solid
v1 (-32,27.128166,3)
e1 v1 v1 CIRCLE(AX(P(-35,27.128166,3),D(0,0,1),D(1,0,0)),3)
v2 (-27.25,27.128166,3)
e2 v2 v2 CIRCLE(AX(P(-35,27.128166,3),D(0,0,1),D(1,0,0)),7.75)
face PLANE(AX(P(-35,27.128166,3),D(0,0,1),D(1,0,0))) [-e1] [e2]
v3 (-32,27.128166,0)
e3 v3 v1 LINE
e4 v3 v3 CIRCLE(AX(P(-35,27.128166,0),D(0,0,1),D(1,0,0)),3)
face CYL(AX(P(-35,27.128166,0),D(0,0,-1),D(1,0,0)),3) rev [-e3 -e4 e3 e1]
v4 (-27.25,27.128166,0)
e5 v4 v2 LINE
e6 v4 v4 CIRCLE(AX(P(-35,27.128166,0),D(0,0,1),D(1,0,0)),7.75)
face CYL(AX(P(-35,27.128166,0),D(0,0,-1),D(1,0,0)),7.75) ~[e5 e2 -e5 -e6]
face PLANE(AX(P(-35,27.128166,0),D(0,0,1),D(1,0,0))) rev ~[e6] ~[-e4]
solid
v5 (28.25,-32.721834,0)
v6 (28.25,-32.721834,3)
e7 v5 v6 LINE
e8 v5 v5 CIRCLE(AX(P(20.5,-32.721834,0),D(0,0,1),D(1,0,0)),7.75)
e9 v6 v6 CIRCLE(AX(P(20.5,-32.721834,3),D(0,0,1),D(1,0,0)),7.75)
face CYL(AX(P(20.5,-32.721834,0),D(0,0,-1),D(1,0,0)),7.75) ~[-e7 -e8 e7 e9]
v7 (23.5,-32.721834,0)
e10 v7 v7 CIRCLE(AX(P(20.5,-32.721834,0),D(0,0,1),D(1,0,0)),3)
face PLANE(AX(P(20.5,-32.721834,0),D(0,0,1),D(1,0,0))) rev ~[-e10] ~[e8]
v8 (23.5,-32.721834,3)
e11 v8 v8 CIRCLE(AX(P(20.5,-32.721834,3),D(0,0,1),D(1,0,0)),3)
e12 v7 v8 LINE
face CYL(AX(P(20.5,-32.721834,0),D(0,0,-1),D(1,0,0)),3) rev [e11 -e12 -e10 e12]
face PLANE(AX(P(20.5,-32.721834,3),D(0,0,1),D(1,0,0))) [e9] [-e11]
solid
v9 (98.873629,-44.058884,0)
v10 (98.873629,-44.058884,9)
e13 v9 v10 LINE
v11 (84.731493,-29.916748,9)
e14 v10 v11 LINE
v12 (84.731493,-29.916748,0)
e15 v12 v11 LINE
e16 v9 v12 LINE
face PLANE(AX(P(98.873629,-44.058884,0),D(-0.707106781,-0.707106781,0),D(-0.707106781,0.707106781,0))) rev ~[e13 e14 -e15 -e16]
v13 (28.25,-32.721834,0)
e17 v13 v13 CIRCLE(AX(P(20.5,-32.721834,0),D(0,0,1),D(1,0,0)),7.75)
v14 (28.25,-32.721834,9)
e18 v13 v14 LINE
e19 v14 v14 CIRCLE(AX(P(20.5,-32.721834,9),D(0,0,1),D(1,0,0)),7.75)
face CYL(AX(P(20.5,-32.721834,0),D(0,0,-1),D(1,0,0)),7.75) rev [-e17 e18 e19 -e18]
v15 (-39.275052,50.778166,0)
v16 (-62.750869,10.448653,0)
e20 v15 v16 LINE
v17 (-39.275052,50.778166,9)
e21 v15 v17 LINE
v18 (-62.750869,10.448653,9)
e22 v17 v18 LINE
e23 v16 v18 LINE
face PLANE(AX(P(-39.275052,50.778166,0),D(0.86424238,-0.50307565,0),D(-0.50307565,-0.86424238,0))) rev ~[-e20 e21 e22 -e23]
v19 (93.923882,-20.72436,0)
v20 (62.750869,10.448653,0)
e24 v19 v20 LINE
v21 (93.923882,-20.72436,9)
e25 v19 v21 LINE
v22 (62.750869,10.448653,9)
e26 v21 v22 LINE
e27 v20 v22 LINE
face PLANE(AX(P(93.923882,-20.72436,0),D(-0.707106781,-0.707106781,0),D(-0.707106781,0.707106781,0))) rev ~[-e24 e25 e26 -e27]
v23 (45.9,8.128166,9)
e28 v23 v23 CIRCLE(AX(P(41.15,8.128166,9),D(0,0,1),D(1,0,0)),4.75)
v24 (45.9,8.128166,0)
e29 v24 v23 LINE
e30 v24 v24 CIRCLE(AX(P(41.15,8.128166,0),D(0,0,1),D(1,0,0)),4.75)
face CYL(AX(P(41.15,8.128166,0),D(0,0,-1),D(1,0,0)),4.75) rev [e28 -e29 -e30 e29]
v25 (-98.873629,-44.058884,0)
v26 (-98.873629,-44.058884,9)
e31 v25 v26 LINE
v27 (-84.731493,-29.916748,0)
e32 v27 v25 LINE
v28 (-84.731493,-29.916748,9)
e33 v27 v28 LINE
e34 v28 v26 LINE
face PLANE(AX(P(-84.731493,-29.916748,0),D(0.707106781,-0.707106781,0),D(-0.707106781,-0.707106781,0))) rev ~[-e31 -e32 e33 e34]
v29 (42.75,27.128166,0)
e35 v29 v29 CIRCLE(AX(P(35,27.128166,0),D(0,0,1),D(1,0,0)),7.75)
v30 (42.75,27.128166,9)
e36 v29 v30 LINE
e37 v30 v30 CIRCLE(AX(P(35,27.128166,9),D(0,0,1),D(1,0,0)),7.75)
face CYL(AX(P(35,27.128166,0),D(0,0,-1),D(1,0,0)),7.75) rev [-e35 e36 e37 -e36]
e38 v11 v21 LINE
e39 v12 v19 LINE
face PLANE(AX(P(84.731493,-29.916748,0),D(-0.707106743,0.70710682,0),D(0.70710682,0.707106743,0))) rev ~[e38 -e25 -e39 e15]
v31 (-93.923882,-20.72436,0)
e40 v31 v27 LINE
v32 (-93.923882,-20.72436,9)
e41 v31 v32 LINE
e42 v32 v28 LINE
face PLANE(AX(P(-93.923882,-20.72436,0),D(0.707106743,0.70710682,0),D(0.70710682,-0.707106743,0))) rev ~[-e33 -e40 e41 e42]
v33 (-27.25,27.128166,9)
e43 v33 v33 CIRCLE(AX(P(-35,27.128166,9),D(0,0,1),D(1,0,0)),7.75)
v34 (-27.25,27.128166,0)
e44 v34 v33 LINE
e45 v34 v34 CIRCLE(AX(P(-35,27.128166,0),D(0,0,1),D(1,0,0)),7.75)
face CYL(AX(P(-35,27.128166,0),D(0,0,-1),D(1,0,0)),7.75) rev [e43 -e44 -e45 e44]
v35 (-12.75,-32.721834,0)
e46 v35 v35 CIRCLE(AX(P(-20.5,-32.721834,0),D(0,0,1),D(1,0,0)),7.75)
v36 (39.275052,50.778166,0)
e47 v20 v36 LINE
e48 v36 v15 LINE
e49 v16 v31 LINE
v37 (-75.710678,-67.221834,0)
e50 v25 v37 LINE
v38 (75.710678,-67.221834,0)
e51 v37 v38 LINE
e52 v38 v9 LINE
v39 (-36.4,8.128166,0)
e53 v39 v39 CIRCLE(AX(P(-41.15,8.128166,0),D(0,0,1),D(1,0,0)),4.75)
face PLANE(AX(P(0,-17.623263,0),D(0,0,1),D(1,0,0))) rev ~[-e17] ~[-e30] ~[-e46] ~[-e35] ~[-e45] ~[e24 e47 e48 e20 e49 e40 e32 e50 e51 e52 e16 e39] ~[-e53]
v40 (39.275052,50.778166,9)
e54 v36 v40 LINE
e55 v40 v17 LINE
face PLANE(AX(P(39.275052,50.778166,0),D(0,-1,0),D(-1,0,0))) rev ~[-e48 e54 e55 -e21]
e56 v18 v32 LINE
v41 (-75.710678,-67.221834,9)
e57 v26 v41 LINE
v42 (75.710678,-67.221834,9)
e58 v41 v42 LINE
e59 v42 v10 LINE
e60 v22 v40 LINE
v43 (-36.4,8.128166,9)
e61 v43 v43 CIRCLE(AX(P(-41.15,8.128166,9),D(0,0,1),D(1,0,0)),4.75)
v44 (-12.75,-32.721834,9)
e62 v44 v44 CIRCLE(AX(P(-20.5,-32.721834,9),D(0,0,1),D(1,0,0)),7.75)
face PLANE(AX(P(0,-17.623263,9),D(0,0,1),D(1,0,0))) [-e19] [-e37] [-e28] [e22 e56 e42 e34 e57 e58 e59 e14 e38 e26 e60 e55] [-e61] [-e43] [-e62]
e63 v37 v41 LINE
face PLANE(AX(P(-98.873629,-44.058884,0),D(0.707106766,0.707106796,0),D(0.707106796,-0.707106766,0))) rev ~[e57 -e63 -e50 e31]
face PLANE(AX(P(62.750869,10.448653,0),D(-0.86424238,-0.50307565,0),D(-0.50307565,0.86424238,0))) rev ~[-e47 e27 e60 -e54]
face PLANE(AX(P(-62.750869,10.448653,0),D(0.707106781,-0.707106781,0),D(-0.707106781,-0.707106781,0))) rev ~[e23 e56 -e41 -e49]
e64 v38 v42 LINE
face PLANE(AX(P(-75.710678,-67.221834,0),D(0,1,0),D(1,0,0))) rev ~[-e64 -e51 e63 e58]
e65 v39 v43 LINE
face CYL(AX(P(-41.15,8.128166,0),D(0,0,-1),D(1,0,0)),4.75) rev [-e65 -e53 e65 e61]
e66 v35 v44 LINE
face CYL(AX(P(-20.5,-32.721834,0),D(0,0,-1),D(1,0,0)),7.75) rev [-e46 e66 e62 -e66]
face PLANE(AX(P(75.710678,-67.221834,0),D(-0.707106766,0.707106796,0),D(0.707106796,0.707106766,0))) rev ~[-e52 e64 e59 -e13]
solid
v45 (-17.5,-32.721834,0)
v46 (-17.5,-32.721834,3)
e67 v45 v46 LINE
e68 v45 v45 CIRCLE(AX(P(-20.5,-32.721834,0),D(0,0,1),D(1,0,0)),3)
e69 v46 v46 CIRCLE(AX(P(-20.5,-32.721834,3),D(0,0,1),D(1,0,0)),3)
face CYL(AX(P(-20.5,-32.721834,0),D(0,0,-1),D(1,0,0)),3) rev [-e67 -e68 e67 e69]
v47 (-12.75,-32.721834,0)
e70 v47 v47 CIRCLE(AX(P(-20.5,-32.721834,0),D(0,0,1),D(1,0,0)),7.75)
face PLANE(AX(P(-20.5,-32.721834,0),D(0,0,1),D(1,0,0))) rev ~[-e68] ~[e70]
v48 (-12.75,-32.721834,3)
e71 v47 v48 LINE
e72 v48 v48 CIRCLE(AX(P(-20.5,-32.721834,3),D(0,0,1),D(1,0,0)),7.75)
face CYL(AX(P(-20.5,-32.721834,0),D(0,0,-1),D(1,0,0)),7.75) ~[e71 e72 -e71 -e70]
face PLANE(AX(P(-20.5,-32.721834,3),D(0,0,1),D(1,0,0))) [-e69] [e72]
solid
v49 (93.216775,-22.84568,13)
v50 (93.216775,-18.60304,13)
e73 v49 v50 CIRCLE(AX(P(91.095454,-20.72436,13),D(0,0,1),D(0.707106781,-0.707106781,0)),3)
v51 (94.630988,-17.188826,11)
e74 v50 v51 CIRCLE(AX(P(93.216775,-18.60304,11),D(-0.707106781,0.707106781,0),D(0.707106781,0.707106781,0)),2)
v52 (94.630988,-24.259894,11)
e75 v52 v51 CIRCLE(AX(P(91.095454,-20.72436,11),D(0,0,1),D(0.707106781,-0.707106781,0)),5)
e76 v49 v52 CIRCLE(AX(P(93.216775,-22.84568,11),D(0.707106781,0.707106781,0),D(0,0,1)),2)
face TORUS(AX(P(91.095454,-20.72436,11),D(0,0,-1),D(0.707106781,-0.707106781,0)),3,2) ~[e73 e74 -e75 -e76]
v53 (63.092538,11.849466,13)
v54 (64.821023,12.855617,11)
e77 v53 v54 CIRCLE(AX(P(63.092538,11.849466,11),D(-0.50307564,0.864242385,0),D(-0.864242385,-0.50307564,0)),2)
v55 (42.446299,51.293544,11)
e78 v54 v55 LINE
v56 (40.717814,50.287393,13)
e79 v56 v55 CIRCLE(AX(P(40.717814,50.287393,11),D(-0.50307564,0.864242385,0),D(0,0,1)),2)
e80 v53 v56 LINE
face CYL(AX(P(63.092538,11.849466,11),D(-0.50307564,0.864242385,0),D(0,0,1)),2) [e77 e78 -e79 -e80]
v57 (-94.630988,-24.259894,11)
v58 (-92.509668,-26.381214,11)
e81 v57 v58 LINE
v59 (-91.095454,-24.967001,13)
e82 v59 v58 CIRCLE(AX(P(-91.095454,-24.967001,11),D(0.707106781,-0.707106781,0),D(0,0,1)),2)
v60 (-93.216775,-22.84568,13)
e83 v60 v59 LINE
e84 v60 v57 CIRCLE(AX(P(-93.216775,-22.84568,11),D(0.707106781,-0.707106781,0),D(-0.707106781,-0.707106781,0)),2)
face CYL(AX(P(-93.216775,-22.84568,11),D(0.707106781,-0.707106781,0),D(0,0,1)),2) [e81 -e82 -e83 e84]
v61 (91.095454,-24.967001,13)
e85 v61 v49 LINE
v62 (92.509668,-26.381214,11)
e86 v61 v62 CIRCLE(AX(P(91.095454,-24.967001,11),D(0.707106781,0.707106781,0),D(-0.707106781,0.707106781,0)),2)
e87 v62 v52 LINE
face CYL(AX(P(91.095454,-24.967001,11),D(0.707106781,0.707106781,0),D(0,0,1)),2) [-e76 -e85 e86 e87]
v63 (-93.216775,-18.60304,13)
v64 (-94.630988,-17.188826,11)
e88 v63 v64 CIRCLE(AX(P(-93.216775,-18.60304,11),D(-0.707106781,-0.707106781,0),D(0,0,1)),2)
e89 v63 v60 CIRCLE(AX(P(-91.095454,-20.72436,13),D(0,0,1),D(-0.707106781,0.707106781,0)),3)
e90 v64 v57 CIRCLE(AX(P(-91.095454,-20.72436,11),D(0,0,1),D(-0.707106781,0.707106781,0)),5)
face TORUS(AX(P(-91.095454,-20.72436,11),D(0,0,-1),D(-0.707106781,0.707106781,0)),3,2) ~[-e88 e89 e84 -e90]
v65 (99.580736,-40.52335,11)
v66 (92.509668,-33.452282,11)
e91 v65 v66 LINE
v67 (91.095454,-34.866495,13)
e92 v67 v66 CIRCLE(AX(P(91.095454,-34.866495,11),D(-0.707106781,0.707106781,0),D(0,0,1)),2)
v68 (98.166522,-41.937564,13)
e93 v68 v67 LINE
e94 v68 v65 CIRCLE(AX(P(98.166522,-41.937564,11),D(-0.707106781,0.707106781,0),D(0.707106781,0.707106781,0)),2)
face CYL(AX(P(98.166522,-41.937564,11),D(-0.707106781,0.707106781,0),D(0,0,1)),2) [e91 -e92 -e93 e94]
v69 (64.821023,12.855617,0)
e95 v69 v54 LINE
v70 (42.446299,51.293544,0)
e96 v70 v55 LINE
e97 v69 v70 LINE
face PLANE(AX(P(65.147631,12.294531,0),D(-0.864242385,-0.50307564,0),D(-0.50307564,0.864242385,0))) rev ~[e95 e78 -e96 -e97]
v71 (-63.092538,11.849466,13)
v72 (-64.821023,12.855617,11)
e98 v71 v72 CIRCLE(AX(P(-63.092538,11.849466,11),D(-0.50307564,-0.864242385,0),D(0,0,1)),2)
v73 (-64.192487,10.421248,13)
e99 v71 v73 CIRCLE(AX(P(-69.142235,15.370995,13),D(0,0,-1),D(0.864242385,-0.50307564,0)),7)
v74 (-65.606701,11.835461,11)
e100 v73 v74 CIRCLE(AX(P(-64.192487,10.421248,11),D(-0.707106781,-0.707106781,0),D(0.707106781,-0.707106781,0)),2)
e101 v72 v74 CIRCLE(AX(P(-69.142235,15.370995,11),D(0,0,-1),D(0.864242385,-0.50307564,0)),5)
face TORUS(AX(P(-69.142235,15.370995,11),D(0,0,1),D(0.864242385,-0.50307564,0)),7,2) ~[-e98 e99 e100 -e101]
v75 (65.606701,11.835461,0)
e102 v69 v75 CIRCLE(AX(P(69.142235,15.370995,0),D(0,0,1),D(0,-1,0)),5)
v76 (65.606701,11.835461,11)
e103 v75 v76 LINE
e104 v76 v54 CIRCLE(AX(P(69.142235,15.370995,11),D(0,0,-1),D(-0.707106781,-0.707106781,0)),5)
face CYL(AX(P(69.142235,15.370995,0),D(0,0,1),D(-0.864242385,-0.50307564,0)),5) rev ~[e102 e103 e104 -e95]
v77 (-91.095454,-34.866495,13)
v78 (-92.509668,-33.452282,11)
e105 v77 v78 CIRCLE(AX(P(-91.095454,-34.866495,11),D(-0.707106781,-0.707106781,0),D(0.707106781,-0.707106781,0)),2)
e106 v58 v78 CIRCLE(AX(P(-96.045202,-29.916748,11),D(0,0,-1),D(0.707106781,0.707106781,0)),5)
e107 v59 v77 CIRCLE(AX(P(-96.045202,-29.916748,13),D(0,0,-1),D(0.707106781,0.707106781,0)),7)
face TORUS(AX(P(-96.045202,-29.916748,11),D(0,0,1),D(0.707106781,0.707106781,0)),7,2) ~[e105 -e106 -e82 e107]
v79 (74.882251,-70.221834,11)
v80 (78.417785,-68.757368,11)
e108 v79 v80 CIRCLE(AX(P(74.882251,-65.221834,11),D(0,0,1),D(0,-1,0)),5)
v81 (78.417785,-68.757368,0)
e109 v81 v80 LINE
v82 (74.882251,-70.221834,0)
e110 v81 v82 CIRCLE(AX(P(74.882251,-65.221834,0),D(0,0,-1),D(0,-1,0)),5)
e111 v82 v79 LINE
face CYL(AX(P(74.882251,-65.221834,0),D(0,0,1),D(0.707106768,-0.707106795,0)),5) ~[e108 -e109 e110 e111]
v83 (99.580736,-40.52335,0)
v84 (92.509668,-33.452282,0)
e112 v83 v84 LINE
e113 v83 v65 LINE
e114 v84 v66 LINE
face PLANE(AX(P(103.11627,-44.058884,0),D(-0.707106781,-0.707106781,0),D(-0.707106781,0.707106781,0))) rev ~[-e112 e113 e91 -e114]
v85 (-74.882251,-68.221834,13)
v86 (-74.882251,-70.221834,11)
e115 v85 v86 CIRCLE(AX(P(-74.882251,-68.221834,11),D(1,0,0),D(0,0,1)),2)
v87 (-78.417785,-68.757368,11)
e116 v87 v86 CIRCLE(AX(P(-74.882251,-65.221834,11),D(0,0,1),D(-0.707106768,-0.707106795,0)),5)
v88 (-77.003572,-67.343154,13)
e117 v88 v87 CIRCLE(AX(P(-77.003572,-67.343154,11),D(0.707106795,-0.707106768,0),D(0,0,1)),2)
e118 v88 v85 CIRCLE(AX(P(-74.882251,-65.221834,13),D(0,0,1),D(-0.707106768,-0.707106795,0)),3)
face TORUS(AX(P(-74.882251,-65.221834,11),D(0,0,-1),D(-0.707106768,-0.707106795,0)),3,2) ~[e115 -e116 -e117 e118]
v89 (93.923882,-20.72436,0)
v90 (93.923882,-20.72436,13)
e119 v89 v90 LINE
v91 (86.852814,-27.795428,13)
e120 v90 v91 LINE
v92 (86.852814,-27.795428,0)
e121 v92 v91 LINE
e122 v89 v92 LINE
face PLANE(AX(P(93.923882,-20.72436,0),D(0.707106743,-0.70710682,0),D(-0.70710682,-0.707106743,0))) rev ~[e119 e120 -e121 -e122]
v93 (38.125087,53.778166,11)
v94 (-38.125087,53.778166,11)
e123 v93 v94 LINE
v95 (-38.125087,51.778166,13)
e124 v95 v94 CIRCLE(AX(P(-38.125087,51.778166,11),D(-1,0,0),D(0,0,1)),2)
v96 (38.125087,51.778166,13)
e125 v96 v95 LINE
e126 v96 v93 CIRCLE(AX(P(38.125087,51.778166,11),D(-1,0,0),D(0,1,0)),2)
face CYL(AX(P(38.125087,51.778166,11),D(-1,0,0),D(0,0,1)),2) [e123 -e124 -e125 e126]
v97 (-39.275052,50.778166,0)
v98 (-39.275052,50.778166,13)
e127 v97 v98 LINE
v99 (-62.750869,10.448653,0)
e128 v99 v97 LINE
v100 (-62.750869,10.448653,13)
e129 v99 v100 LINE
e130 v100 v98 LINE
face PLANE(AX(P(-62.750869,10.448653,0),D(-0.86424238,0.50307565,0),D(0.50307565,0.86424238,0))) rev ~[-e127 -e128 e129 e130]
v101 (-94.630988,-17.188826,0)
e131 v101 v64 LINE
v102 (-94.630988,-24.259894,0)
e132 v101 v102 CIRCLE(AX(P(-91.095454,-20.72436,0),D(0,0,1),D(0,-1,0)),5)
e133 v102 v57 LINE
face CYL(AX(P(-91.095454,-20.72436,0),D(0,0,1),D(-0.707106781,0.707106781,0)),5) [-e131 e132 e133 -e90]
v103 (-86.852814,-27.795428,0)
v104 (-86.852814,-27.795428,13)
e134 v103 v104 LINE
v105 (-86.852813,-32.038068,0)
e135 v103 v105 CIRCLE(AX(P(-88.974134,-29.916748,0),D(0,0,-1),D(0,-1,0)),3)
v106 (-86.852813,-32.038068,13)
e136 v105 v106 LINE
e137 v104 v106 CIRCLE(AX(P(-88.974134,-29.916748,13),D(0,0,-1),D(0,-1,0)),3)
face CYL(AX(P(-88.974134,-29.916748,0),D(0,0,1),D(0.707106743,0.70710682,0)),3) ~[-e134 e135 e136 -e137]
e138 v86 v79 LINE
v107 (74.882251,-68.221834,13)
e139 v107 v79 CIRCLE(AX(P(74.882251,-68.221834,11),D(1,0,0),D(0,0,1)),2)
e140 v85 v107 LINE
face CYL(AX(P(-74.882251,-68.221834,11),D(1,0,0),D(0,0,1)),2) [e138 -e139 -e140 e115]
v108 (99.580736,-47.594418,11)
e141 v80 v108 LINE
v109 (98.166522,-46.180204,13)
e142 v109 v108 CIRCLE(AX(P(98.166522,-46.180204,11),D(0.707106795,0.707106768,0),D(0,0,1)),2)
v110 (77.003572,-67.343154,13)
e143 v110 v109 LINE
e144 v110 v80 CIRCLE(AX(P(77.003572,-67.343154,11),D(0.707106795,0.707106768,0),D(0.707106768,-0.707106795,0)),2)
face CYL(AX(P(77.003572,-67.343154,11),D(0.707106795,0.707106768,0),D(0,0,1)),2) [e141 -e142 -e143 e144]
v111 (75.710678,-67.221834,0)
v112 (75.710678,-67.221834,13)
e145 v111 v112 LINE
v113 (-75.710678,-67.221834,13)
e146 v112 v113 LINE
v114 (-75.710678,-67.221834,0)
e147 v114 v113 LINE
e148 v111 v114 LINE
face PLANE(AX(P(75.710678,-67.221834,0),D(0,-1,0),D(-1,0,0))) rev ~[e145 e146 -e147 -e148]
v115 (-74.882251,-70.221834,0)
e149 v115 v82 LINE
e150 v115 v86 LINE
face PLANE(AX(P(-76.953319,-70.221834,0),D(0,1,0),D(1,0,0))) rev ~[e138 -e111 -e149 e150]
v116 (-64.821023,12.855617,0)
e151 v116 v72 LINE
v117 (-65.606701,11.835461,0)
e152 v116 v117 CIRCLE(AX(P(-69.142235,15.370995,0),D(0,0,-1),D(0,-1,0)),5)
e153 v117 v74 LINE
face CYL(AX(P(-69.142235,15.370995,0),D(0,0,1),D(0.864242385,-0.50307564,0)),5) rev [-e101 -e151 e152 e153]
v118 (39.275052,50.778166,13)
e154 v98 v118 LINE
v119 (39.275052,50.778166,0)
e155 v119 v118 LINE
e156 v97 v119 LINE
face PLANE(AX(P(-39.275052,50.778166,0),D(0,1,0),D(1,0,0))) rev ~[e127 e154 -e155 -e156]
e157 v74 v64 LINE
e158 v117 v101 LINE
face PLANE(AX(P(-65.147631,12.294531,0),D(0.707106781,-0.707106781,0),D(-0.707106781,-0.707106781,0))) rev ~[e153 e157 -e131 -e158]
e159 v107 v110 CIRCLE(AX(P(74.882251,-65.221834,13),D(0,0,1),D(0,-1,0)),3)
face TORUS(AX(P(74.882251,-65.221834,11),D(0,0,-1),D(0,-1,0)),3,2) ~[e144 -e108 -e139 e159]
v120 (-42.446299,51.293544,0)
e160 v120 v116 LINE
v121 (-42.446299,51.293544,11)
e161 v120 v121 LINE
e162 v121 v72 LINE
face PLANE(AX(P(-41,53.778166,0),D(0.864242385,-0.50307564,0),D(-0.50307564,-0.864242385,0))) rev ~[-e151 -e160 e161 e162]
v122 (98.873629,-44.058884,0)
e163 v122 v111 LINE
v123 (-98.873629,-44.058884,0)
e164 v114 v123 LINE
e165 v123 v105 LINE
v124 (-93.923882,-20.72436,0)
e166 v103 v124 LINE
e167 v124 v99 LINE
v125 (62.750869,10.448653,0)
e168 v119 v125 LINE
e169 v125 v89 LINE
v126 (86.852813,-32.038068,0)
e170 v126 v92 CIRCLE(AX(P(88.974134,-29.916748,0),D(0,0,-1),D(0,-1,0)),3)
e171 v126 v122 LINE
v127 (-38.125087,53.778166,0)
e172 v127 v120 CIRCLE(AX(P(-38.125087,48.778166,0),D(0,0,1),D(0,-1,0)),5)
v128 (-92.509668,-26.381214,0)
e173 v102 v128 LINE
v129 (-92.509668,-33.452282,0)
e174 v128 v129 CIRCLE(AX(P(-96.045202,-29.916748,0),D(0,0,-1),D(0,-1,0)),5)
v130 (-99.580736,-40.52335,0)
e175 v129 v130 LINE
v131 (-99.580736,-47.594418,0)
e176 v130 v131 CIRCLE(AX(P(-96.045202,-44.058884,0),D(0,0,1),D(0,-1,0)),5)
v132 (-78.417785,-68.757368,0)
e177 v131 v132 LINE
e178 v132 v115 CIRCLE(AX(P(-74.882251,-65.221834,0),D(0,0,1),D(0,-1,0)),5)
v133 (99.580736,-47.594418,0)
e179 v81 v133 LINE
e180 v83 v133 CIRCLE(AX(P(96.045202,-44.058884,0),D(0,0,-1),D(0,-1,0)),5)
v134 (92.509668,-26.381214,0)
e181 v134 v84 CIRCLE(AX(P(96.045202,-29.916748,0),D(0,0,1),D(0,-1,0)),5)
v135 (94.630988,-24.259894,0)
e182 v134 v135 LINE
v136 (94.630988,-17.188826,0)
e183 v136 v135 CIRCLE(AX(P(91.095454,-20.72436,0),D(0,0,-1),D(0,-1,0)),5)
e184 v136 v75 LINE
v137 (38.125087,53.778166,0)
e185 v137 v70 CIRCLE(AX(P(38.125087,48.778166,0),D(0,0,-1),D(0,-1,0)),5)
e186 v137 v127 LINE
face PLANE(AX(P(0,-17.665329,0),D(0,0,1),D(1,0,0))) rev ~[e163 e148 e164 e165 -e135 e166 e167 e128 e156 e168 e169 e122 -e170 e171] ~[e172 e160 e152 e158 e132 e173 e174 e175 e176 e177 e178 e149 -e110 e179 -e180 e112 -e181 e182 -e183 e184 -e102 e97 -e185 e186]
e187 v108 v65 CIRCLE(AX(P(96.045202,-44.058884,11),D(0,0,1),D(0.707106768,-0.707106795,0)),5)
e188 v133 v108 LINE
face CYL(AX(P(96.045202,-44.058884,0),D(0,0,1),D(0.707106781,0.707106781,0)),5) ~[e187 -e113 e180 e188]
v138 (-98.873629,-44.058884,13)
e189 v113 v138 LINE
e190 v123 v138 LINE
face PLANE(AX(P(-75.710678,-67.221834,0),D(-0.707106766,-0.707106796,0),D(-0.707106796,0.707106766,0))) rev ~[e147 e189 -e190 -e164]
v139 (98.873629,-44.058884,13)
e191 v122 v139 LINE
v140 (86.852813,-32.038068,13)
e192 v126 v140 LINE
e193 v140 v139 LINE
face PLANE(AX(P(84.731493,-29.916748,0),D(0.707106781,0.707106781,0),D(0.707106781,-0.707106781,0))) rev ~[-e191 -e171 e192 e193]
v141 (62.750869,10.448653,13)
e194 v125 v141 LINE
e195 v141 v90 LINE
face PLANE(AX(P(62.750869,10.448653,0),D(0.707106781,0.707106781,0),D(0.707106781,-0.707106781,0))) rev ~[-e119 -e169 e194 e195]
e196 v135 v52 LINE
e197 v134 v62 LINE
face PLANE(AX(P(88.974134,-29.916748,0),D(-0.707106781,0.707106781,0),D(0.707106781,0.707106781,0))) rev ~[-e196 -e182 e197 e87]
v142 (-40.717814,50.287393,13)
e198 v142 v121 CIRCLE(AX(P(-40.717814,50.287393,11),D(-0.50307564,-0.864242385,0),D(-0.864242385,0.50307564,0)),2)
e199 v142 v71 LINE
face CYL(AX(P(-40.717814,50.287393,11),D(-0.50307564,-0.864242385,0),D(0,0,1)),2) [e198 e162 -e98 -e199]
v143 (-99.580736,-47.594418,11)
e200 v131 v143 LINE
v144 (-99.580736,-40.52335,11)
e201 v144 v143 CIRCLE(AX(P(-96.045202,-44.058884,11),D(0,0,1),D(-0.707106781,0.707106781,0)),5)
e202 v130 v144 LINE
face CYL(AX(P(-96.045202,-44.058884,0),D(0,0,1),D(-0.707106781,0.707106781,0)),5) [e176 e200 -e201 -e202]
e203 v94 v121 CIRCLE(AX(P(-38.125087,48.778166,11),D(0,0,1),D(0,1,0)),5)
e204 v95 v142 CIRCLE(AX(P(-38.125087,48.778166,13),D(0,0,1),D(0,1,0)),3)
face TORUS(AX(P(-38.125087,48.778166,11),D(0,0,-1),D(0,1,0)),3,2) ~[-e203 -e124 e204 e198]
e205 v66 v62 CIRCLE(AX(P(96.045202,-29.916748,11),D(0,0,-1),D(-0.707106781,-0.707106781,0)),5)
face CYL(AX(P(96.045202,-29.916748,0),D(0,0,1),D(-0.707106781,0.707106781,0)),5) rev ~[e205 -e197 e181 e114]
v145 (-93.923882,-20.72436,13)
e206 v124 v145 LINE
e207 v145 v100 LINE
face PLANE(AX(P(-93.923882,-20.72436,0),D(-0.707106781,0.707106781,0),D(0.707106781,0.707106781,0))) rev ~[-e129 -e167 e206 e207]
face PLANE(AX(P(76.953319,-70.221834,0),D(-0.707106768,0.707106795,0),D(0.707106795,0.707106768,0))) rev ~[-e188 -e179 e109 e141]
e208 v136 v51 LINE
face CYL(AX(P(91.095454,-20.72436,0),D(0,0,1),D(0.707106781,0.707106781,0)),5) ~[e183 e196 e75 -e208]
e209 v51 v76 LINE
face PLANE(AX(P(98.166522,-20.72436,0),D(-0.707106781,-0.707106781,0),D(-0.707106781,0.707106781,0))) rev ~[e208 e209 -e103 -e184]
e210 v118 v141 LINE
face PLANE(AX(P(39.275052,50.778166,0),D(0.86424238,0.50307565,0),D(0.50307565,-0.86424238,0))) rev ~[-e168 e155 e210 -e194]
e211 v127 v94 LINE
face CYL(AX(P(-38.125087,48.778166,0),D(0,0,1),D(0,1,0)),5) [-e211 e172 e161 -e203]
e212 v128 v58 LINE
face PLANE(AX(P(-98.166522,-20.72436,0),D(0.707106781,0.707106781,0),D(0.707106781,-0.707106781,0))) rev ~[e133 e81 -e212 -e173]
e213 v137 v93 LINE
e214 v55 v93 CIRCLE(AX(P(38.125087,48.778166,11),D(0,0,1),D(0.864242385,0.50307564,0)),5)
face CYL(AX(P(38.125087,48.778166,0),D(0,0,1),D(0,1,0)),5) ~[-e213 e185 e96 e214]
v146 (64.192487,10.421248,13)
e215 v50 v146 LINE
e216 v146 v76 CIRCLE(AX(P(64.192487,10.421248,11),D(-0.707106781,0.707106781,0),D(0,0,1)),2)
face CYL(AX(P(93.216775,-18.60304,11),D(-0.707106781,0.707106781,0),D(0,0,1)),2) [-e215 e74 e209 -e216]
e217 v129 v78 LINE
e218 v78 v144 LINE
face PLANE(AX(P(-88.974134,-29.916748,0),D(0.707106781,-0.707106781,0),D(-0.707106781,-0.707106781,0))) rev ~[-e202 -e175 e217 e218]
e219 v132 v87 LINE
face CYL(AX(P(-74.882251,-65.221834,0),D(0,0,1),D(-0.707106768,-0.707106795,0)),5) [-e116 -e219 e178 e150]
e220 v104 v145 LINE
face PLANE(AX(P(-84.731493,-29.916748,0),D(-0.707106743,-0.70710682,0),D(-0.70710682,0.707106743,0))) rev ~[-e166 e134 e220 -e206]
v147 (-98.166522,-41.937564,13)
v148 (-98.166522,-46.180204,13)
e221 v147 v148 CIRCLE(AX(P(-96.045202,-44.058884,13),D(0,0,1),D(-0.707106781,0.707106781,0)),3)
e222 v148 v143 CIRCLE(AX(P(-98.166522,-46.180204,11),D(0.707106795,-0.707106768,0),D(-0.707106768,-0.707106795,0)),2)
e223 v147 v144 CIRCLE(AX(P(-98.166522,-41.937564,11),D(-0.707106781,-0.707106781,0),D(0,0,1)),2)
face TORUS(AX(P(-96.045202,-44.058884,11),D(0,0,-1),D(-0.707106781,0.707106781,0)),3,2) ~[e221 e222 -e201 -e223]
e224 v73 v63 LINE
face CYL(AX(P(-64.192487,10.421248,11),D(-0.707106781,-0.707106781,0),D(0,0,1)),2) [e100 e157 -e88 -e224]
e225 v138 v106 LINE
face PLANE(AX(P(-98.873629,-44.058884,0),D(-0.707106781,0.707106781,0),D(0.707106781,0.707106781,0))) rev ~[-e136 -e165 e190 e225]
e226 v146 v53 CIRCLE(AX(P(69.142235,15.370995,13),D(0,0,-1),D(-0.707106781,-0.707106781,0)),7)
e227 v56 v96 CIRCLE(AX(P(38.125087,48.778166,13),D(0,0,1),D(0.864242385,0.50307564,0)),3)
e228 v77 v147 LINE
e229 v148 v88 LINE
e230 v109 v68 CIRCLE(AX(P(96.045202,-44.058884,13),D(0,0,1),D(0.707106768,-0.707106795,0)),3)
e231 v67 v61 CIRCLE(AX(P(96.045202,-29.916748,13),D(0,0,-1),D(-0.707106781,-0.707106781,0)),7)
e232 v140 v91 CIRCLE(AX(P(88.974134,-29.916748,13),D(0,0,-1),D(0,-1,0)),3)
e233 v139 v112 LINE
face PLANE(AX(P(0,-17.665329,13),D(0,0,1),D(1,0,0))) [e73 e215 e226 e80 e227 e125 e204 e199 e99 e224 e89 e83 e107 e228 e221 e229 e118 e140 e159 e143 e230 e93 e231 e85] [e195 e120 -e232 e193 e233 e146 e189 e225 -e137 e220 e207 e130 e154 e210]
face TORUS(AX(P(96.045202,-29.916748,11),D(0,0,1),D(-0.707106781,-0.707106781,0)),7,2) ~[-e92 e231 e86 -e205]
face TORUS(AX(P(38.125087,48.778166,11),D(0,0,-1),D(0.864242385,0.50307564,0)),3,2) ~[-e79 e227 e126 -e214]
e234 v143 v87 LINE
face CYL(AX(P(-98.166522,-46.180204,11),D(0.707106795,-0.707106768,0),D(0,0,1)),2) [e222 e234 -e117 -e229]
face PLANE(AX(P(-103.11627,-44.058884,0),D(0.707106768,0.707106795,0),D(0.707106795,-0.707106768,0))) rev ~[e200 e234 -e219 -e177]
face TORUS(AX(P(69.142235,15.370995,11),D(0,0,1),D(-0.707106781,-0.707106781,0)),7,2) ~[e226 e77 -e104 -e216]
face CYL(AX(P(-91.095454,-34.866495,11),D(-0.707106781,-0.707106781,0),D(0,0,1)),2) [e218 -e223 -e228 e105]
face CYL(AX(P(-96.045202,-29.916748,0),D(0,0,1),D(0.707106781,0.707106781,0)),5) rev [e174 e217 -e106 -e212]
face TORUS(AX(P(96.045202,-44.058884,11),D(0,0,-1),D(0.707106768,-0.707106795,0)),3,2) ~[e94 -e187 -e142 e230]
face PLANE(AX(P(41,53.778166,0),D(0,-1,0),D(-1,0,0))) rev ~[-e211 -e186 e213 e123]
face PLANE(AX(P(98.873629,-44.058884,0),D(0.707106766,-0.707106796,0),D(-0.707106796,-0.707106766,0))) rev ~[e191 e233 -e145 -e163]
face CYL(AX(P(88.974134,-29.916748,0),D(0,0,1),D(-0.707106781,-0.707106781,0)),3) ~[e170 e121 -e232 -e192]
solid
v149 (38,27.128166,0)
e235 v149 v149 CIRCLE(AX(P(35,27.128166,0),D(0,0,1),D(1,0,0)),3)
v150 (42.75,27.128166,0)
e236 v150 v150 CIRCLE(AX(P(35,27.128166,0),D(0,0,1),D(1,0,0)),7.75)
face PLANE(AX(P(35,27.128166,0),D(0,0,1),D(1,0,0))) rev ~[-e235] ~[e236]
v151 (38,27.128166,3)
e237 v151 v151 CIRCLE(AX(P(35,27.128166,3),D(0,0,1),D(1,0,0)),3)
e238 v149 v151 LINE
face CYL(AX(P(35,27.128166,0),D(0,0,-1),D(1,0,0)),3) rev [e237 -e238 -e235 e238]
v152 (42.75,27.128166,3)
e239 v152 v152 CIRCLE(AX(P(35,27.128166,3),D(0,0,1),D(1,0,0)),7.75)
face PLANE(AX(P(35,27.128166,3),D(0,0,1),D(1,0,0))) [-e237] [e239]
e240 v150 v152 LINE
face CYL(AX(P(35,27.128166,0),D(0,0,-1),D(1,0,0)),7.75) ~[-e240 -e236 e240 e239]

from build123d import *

# Parameters (mm, degrees)
F4_DEPTH = 13
F0_R     = 7.75
F0_R_2   = 3
F5_DEPTH = 3
F3_R     = 7.75
F3_R_2   = 4.75
F6_DEPTH = 9
F7_R     = 5
F8_R     = 2
F9_R     = 3


with BuildPart() as f4:
    # F3 (on Top) → F4 (new body)
    with BuildSketch(Plane.XY):
        Polygon((41, 53.778166), (-41, 53.778166), (-65.147631, 12.294531), (-98.166522, -20.72436), (-88.974134, -29.916748), (-103.11627, -44.058884), (-76.953319, -70.221834), (76.953319, -70.221834), (103.11627, -44.058884), (88.974134, -29.916748), (98.166522, -20.72436), (65.147631, 12.294531), align=None)
        Polygon((-93.923882, -20.72436), (-62.750869, 10.448653), (-39.275052, 50.778166), (39.275052, 50.778166), (62.750869, 10.448653), (93.923882, -20.72436), (84.731493, -29.916748), (98.873629, -44.058884), (75.710678, -67.221834), (-75.710678, -67.221834), (-98.873629, -44.058884), (-84.731493, -29.916748), align=None, mode=Mode.SUBTRACT)
    extrude(amount=F4_DEPTH)

    # F7
    f7_edges = [f4.edges().sort_by_distance(p)[0] for p in [
        (98.166522, -20.72436, 6.5),
        (103.11627, -44.058884, 6.5),
        (76.953319, -70.221834, 6.5),
        (-76.953319, -70.221834, 6.5),
        (-103.11627, -44.058884, 6.5),
        (-98.166522, -20.72436, 6.5),
        (-88.974134, -29.916748, 6.5),
        (-65.147631, 12.294531, 6.5),
        (-41, 53.778166, 6.5),
        (41, 53.778166, 6.5),
        (65.147631, 12.294531, 6.5),
        (88.974134, -29.916748, 6.5),
    ]]
    fillet(f7_edges, radius=F7_R)

    # F8
    f8_edges = [f4.edges().sort_by_distance(p)[0] for p in [
        (0, -70.221834, 13),
    ]]
    fillet(f8_edges, radius=F8_R)

    # F9
    f9_edges = [f4.edges().sort_by_distance(p)[0] for p in [
        (84.731493, -29.916748, 6.5),
        (-84.731493, -29.916748, 6.5),
    ]]
    fillet(f9_edges, radius=F9_R)


with BuildPart() as f5:
    # F0 (on Top) → F5 (new body)
    with BuildSketch(Plane.XY):
        with Locations((-35, 27.128166)):
            Circle(F0_R)
        with Locations((-35, 27.128166)):
            Circle(F0_R_2, mode=Mode.SUBTRACT)
        with Locations((35, 27.128166)):
            Circle(F0_R)
        with Locations((35, 27.128166)):
            Circle(F0_R_2, mode=Mode.SUBTRACT)
        with Locations((20.5, -32.721834)):
            Circle(F0_R)
        with Locations((20.5, -32.721834)):
            Circle(F0_R_2, mode=Mode.SUBTRACT)
        with Locations((-20.5, -32.721834)):
            Circle(F0_R)
        with Locations((-20.5, -32.721834)):
            Circle(F0_R_2, mode=Mode.SUBTRACT)
    extrude(amount=F5_DEPTH)


with BuildPart() as f6:
    # F3 (on Top) → F6 (new body)
    with BuildSketch(Plane.XY):
        Polygon((-39.275052, 50.778166), (-62.750869, 10.448653), (-93.923882, -20.72436), (-84.731493, -29.916748), (-98.873629, -44.058884), (-75.710678, -67.221834), (75.710678, -67.221834), (98.873629, -44.058884), (84.731493, -29.916748), (93.923882, -20.72436), (62.750869, 10.448653), (39.275052, 50.778166), align=None)
        with Locations((-20.5, -32.721834)):
            Circle(F3_R, mode=Mode.SUBTRACT)
        with Locations((20.5, -32.721834)):
            Circle(F3_R, mode=Mode.SUBTRACT)
        with Locations((-41.15, 8.128166)):
            Circle(F3_R_2, mode=Mode.SUBTRACT)
        with Locations((-35, 27.128166)):
            Circle(F3_R, mode=Mode.SUBTRACT)
        with Locations((41.15, 8.128166)):
            Circle(F3_R_2, mode=Mode.SUBTRACT)
        with Locations((35, 27.128166)):
            Circle(F3_R, mode=Mode.SUBTRACT)
    extrude(amount=F6_DEPTH)


solid = Compound([f4.part, f5.part, f6.part])
